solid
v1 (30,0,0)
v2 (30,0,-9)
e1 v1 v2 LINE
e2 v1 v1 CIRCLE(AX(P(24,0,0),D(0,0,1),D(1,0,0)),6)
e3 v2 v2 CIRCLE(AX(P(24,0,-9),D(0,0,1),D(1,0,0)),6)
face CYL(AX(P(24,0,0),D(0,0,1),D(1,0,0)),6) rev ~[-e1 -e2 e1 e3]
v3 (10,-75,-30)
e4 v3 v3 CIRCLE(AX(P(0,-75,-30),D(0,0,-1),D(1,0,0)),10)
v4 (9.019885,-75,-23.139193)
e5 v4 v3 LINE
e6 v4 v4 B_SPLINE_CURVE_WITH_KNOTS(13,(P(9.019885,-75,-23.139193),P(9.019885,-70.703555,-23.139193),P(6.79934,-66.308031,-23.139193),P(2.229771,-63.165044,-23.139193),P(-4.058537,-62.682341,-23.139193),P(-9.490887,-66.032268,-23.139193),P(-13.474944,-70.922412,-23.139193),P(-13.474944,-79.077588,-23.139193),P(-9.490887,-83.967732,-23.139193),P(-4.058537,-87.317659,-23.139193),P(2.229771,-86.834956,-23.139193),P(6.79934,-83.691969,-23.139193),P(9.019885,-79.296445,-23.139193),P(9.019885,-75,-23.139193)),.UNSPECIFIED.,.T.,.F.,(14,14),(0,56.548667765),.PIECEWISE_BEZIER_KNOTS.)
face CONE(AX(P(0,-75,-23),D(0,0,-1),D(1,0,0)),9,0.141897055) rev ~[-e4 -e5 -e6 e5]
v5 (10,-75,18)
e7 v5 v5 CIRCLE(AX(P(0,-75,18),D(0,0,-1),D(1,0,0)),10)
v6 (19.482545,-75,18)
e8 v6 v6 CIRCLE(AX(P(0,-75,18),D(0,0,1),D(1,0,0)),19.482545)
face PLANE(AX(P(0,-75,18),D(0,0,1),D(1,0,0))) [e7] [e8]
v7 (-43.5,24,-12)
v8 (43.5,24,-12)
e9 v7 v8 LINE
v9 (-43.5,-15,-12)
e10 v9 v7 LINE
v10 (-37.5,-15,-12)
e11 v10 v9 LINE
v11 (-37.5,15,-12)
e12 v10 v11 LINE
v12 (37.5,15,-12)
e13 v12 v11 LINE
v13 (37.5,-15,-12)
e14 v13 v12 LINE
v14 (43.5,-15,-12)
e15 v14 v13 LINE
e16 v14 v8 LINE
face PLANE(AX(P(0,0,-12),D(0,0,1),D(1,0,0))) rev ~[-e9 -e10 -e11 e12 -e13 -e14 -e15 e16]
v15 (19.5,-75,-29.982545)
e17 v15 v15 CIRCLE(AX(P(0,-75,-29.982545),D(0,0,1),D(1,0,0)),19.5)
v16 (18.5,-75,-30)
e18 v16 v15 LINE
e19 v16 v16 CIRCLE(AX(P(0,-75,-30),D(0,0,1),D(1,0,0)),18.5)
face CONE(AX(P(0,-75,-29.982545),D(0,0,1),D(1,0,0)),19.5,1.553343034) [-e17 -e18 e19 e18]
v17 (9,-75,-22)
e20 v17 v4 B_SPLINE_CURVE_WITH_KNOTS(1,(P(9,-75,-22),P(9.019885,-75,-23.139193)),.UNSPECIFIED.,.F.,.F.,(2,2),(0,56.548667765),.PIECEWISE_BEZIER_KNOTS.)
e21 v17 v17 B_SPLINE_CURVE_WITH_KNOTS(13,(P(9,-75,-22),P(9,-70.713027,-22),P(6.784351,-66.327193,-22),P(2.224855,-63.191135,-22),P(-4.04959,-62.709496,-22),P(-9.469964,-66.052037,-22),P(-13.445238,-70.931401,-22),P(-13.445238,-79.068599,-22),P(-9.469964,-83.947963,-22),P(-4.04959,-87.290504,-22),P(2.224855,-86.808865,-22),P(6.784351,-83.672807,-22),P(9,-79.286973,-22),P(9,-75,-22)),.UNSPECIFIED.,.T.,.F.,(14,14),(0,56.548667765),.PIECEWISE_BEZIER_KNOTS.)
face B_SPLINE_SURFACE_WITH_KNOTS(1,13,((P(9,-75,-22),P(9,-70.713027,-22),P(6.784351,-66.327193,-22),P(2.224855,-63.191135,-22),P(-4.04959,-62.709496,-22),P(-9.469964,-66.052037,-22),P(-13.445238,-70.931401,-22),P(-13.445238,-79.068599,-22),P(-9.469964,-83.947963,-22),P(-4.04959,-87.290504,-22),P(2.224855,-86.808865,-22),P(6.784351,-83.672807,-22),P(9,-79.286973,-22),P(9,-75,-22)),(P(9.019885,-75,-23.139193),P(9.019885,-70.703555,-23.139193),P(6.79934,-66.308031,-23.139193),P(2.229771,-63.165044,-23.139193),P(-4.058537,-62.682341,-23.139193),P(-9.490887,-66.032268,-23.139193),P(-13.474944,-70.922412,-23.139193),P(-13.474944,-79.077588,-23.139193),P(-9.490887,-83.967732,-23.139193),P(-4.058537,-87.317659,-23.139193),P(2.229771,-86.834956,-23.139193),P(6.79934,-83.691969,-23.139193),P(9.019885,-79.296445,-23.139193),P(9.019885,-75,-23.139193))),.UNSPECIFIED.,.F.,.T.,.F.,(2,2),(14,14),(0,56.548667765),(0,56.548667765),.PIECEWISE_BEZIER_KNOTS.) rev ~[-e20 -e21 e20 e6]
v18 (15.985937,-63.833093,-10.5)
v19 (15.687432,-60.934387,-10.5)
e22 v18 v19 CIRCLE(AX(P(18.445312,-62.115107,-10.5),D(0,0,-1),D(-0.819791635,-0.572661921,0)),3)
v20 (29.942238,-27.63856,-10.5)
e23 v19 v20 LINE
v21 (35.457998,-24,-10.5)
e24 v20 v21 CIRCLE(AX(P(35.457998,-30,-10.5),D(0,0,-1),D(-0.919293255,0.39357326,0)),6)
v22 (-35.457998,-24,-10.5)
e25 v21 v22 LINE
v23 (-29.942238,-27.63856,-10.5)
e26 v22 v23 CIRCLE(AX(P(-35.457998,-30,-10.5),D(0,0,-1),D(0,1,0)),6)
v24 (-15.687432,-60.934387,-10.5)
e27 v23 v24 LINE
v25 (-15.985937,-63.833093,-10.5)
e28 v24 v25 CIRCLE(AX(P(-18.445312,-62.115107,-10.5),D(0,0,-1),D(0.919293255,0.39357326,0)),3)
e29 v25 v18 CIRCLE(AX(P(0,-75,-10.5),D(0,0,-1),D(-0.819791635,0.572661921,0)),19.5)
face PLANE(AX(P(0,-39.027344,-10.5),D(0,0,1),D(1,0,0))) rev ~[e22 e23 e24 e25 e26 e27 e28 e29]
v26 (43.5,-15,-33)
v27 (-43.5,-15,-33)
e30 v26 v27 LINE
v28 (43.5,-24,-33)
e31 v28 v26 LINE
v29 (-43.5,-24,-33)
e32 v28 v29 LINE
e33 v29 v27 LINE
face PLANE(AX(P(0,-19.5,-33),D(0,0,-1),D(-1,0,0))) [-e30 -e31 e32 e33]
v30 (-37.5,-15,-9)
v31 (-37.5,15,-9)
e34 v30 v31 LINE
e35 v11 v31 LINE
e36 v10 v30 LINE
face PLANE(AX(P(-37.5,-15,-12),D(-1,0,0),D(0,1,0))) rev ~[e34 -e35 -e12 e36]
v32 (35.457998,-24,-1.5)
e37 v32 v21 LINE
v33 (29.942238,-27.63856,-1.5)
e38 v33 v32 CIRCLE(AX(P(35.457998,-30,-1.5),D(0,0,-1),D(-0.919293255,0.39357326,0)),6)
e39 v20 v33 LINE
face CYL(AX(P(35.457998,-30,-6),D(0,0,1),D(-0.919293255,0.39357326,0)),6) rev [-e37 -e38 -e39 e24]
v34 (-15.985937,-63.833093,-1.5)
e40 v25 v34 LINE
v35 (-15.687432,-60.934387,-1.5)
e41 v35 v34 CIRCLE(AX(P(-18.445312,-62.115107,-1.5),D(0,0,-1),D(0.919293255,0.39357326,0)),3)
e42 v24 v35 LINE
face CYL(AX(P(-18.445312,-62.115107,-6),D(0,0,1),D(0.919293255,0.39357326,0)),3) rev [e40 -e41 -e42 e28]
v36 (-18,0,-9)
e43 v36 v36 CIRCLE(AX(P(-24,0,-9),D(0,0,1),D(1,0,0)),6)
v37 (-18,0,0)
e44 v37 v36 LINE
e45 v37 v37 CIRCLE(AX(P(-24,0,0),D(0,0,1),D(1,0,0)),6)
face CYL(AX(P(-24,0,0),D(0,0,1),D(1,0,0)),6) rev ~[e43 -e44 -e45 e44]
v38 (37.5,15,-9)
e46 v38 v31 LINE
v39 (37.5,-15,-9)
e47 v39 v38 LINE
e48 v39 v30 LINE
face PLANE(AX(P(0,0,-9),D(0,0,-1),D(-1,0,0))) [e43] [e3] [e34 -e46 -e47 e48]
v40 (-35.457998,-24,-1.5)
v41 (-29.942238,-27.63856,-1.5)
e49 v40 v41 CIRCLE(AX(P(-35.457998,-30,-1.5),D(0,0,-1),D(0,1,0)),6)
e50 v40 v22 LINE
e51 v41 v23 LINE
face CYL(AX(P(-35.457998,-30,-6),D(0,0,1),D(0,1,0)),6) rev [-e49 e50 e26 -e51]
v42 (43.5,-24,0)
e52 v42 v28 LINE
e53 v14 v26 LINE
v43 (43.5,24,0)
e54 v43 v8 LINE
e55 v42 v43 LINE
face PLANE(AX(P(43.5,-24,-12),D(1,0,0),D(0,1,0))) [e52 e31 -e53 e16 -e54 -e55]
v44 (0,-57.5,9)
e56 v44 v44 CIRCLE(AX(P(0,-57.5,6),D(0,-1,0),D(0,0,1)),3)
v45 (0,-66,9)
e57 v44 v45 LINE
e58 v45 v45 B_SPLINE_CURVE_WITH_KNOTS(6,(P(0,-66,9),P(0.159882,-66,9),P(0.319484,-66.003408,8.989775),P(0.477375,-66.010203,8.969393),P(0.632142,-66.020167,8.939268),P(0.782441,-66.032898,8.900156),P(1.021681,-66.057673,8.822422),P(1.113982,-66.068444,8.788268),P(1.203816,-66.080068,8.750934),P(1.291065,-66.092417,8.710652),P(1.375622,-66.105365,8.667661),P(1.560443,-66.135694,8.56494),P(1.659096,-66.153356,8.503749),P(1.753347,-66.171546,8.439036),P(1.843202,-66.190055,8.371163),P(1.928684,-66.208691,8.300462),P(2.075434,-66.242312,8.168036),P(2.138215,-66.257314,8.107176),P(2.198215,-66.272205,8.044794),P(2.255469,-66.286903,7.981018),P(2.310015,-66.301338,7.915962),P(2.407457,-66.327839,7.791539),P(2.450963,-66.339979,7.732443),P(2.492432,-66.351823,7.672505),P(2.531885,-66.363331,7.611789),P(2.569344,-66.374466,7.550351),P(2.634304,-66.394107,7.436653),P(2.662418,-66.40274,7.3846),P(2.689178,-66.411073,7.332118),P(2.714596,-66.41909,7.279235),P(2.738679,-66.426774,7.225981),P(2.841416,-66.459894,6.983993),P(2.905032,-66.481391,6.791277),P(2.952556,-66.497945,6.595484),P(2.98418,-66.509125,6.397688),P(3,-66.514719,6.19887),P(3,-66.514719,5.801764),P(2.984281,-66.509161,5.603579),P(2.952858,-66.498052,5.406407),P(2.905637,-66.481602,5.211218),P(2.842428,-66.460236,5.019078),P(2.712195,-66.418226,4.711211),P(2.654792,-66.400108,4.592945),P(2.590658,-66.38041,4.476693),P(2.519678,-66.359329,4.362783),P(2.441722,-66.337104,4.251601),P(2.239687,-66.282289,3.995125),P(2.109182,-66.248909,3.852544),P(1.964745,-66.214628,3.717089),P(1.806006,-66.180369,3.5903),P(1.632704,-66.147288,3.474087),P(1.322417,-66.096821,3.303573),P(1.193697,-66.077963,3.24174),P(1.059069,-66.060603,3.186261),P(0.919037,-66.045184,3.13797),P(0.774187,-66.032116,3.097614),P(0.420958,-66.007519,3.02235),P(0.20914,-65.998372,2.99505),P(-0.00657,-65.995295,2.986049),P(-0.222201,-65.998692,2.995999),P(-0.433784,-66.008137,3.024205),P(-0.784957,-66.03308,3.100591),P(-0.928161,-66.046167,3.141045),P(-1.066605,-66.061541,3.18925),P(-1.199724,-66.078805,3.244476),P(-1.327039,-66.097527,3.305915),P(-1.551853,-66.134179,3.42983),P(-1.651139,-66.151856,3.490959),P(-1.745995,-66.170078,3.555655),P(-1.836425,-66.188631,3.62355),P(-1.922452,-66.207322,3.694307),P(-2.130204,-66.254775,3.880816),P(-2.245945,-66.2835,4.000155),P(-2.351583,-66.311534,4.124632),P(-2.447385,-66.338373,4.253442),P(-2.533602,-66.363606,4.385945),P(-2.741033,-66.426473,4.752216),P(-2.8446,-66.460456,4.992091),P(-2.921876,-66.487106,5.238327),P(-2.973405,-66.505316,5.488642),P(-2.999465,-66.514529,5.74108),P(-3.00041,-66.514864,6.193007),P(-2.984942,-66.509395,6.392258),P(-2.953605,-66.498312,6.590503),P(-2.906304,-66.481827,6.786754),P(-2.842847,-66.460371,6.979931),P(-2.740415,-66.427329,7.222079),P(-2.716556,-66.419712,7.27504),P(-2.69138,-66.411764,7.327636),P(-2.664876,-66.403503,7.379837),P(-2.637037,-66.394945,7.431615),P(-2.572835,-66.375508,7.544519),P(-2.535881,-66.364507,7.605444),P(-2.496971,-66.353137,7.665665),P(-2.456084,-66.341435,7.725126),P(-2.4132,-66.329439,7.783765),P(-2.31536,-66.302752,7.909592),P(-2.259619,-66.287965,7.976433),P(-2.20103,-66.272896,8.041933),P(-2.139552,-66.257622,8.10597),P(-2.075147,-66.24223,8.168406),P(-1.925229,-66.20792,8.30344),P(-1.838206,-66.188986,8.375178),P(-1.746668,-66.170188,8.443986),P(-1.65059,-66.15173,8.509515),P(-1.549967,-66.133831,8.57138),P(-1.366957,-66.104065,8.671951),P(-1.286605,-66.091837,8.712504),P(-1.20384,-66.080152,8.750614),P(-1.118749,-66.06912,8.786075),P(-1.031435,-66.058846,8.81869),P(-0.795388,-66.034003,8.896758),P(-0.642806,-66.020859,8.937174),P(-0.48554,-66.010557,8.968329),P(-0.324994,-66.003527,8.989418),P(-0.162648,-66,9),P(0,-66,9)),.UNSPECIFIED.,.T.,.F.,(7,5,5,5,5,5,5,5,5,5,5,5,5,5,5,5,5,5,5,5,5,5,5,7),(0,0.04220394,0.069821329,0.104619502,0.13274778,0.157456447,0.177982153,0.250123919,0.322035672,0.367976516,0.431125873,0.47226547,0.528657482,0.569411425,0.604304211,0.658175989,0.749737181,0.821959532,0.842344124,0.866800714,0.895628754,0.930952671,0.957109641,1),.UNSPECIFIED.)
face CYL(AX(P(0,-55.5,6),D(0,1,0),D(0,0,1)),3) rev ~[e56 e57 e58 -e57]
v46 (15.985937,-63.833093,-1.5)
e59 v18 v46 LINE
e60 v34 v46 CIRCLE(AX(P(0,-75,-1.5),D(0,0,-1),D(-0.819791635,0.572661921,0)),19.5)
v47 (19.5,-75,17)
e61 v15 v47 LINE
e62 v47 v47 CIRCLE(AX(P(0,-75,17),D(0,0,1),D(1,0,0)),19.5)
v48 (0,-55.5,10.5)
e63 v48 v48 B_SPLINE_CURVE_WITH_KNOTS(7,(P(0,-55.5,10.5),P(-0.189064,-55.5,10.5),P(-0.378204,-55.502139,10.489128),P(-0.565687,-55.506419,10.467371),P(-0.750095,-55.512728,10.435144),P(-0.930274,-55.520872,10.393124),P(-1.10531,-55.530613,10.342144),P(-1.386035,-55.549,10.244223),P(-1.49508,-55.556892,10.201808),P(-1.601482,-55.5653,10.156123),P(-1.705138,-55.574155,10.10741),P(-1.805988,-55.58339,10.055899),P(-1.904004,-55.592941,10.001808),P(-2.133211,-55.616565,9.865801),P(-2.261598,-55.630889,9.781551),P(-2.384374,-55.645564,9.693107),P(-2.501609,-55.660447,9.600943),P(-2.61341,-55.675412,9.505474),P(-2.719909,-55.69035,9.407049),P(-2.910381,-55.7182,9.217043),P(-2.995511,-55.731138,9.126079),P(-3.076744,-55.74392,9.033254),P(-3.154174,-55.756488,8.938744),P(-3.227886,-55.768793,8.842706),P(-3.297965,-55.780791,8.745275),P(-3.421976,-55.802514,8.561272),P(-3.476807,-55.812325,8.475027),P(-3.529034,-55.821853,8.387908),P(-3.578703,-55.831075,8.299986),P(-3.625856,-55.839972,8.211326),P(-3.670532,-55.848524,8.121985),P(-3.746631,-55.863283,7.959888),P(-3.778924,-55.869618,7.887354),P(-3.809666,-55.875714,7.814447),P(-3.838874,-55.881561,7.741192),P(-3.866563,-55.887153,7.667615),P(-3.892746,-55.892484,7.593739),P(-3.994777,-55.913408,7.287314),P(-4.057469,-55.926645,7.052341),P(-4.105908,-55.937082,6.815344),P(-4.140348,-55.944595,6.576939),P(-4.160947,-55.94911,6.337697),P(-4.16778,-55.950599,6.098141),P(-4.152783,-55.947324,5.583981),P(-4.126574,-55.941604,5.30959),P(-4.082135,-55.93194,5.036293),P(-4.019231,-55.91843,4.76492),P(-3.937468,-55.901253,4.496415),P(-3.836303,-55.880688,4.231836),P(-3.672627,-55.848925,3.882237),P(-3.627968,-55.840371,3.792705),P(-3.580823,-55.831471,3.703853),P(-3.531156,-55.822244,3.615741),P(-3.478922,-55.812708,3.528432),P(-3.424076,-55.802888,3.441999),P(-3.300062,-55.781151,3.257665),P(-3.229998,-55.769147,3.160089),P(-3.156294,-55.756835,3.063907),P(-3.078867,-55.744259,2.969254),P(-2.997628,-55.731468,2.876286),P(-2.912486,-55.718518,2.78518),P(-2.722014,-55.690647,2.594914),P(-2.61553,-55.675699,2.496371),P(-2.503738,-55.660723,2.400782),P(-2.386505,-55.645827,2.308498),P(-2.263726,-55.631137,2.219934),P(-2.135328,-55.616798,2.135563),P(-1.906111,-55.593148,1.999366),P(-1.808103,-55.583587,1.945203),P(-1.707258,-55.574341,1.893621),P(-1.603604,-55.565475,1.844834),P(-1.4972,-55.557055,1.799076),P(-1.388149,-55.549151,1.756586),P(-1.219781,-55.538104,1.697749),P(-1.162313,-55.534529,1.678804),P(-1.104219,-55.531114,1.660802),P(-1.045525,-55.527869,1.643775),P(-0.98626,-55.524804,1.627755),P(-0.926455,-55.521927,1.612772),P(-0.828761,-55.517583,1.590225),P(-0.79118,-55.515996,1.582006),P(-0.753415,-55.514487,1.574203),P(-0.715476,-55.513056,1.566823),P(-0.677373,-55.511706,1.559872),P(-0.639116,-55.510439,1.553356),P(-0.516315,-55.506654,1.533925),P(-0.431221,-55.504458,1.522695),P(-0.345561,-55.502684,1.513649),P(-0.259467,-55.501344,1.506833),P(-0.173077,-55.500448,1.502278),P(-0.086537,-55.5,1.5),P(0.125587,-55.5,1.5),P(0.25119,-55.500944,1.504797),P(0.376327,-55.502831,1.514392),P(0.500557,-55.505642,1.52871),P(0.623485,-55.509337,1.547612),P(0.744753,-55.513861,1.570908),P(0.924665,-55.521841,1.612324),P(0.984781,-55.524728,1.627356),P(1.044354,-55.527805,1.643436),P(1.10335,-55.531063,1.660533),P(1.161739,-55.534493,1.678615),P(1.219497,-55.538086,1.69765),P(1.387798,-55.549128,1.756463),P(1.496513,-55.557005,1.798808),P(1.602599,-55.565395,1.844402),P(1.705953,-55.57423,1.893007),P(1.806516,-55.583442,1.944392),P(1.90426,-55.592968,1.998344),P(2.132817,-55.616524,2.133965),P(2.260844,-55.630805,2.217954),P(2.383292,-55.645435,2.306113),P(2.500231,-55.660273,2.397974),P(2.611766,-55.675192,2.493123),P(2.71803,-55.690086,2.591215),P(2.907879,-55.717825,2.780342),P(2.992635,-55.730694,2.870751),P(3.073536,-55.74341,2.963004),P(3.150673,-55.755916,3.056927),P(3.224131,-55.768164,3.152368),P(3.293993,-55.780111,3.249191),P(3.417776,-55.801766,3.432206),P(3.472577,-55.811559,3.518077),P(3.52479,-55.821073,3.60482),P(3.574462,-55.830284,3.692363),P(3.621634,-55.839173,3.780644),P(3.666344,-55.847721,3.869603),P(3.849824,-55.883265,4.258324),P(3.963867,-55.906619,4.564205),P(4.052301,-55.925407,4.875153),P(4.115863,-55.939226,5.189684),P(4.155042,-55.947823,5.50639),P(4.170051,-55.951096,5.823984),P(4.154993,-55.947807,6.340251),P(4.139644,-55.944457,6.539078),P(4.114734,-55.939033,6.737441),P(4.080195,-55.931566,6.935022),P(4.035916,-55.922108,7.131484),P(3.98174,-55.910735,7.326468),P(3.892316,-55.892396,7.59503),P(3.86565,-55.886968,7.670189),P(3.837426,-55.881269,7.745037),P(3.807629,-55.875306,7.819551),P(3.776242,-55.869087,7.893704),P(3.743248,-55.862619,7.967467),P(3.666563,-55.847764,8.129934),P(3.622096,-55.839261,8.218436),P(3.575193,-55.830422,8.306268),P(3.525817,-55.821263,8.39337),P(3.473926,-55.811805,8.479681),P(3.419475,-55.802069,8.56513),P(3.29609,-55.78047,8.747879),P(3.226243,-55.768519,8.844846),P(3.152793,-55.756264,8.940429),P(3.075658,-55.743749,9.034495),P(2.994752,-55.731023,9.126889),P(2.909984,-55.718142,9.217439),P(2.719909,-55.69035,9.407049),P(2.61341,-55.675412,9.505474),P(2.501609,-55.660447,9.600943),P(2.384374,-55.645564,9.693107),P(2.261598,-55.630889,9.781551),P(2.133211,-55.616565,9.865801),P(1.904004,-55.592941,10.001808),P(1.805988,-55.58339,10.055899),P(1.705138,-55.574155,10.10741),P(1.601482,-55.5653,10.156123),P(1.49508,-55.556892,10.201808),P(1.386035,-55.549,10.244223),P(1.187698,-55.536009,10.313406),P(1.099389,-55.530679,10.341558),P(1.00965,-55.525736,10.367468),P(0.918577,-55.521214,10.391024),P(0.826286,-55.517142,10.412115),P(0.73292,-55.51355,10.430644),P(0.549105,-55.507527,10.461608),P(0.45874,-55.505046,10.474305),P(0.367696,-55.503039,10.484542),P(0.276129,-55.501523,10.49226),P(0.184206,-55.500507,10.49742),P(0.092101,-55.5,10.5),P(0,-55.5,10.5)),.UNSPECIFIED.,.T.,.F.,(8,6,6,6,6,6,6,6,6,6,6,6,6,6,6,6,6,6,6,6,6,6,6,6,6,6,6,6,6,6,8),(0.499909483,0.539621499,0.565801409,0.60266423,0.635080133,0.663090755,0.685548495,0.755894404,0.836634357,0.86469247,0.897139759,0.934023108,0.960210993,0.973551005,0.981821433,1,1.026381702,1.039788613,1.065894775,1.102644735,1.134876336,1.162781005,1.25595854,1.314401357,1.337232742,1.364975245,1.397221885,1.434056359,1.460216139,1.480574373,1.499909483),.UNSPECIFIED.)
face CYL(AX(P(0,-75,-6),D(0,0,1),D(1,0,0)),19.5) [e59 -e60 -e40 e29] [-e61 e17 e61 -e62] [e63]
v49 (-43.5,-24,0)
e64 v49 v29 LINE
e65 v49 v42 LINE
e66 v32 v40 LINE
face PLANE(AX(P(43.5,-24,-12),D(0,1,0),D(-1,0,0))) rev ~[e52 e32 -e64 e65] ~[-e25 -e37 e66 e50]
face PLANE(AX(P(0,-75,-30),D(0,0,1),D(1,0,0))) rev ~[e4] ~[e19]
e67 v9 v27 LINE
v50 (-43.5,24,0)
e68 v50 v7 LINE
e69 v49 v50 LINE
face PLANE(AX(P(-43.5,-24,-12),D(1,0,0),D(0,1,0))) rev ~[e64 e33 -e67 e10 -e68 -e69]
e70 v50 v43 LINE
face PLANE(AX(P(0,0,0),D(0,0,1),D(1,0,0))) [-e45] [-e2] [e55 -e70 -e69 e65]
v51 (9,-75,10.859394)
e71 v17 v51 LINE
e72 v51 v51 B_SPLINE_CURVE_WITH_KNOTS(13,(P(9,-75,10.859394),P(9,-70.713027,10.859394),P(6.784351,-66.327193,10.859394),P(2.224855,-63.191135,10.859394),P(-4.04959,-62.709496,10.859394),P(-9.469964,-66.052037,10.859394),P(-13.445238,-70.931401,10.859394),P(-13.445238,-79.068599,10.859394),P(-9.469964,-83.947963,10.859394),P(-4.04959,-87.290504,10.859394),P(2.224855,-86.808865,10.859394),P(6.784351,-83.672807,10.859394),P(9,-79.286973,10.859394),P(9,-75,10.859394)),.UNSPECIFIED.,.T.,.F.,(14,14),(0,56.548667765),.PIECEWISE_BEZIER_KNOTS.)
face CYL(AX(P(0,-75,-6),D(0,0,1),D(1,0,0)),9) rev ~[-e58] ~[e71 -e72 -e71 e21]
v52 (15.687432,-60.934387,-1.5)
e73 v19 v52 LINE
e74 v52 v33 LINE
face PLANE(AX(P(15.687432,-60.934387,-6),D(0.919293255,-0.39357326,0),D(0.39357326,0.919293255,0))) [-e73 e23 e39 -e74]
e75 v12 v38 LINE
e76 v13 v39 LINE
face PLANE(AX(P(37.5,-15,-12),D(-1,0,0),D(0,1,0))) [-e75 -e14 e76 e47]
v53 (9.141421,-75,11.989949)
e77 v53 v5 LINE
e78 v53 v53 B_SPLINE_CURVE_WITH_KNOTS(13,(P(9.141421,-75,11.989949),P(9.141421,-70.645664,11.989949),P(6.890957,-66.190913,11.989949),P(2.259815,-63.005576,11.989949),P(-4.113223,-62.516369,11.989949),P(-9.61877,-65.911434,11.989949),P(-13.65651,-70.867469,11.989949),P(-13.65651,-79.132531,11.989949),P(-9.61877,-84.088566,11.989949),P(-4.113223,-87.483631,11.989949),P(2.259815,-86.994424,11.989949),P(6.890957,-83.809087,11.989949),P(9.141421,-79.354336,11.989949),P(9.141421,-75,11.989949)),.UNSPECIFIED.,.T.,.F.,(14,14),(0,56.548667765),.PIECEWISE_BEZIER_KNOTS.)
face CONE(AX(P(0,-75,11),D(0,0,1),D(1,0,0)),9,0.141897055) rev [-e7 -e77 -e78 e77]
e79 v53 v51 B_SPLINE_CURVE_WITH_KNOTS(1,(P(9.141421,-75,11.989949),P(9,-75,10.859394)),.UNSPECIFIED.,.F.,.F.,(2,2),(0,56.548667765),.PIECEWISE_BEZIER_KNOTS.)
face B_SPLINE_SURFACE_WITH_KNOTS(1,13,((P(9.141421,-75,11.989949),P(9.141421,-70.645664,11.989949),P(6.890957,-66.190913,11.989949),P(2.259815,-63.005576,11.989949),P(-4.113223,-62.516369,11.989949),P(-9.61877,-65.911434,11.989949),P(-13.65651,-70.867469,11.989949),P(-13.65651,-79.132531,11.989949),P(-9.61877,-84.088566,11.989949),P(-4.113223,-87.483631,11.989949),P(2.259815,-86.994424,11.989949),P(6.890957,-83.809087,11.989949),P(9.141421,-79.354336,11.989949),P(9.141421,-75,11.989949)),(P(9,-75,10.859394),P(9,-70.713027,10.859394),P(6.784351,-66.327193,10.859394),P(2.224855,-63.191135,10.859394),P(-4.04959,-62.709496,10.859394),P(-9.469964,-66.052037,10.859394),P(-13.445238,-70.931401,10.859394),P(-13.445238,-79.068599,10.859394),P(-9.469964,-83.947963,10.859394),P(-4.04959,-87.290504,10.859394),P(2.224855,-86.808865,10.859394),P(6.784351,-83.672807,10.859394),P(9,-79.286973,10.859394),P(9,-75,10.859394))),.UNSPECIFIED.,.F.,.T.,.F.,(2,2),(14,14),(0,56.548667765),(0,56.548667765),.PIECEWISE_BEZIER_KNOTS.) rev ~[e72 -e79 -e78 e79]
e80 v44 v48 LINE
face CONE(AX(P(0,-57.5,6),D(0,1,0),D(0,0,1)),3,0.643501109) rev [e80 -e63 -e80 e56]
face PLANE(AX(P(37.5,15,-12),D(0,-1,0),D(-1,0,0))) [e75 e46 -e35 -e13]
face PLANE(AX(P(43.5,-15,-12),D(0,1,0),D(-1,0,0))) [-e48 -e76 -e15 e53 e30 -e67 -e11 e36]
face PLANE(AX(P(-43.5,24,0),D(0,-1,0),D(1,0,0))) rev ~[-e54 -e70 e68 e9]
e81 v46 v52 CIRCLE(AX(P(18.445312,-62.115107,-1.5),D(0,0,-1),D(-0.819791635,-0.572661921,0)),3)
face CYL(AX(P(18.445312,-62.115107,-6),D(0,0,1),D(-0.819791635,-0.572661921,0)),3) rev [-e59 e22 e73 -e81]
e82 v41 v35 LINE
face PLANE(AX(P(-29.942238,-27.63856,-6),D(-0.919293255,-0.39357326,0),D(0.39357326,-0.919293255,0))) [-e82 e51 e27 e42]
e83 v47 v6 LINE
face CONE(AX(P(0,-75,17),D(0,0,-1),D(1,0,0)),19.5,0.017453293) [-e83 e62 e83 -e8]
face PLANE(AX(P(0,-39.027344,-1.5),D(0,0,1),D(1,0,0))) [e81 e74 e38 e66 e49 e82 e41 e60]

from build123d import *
from OCP.BRepFilletAPI import BRepFilletAPI_MakeChamfer

# Parameters (mm, degrees)
SKETCH_1_W               = 87
SKETCH_1_H               = 48
EXTRUDE_1_DEPTH          = 12
SKETCH_3_W               = 75
SKETCH_3_H               = 30
CUT_EXTRUDE_1_DEPTH      = 3
SKETCH_4_R               = 6
CUT_EXTRUDE_2_DEPTH      = 52.110175112
SKETCH_5_W               = 87
SKETCH_5_H               = 9
EXTRUDE_2_DEPTH          = 21
SKETCH_7_R               = 19.5
EXTRUDE_3_DEPTH          = 24
SKETCH_8_R               = 9
CUT_EXTRUDE_3_DEPTH      = 17
EXTRUDE_4_DEPTH          = 4.5
CUT_EXTRUDE_4_REACH      = 98.444
CUT_EXTRUDE_4_END_RADIUS = 9
SKETCH_13_R              = 3
CHAMFER_6_SIZE           = 1
CHAMFER_6_SIZE2          = 0.14060595
CHAMFER_6_SIZE2_2        = 0.017455065


with BuildPart() as part:
    # 草图1 → 凸台-拉伸1 (new body)
    with BuildSketch(Plane.XY):
        Rectangle(SKETCH_1_W, SKETCH_1_H)
    extrude(amount=-EXTRUDE_1_DEPTH)

    # 草图3 → 切除-拉伸1 (cut)
    with BuildSketch(Plane(origin=(0, 0, -12), x_dir=(-1, 0, 0), z_dir=(0, 0, -1))):
        Rectangle(SKETCH_3_W, SKETCH_3_H)
    extrude(amount=-CUT_EXTRUDE_1_DEPTH, mode=Mode.SUBTRACT)

    # 草图4 → 切除-拉伸2 (cut, through all)
    with BuildSketch(Plane.XY):
        with Locations((24, 0)):
            Circle(SKETCH_4_R)
        with Locations((-24, 0)):
            Circle(SKETCH_4_R)
    extrude(amount=-CUT_EXTRUDE_2_DEPTH, mode=Mode.SUBTRACT)

    # 草图5 → 凸台-拉伸2 (add)
    with BuildSketch(Plane(origin=(0, 0, -12), x_dir=(-1, 0, 0), z_dir=(0, 0, -1))):
        with Locations((0, -19.5)):
            Rectangle(SKETCH_5_W, SKETCH_5_H)
    extrude(amount=EXTRUDE_2_DEPTH)



with BuildPart() as body_2:
    # 草图7 → 凸台-拉伸3 (new, symmetric)
    with BuildSketch(Plane.XY.offset(-6)):
        with Locations((0, -75)):
            Circle(SKETCH_7_R)
    extrude(amount=EXTRUDE_3_DEPTH, both=True)

    # 草图8 → 切除-拉伸3 (cut, symmetric)
    with BuildSketch(Plane.XY.offset(-6)):
        with Locations((0, -75)):
            Circle(SKETCH_8_R)
    extrude(amount=CUT_EXTRUDE_3_DEPTH, both=True, mode=Mode.SUBTRACT)

    # 草图10 → 切除-旋转1 (revolve, cut)
    with BuildSketch(Plane(origin=(0, -75, 0), x_dir=(1, 0, 0), z_dir=(0, 1, 0))):
        Polygon((0, -18), (0, -11), (9, -11), (10, -18), align=None)
    cut_revolve_1 = revolve(axis=Axis((0, -75, 18), (0, 0, -1)), mode=Mode.SUBTRACT)

    # 镜向1: 切除-旋转1 across plane
    add(cut_revolve_1.mirror(Plane.XY.offset(-6)), mode=Mode.SUBTRACT)


with BuildPart() as part_1:
    add(part.part)

    add(body_2.part)  # 凸台-拉伸4 merges body 2
    # 草图12 → 凸台-拉伸4 (add, symmetric)
    with BuildSketch(Plane.XY.offset(-6)):
        with BuildLine():
            Line((-29.942238006, -27.63856044), (-15.687432014, -60.934386997))
            ThreePointArc((-15.687432014, -60.934386997), (-15.461093284, -62.422417649), (-15.985936875, -63.83309254))
            ThreePointArc((-15.985936875, -63.83309254), (0, -55.5), (15.985936875, -63.83309254))
            ThreePointArc((15.985936875, -63.83309254), (15.461093284, -62.422417649), (15.687432014, -60.934386997))
            Line((15.687432014, -60.934386997), (29.942238006, -27.63856044))
            ThreePointArc((29.942238006, -27.63856044), (32.154108719, -24.99157523), (35.457997537, -24))
            Line((35.457997537, -24), (-35.457997537, -24))
            ThreePointArc((-35.457997537, -24), (-32.154108719, -24.99157523), (-29.942238006, -27.63856044))
        make_face()
    extrude(amount=EXTRUDE_4_DEPTH, both=True)

    # 切除-拉伸4: up to this cylinder (the profile starts outside it)
    cut_extrude_4_end = Plane(origin=(0, -75, 6), z_dir=(0, 0, 1)) * Cylinder(CUT_EXTRUDE_4_END_RADIUS, 215.888, mode=Mode.PRIVATE)
    # 草图13 → 切除-拉伸4 (cut, up to the surface)
    with BuildSketch(Plane(origin=(0, -55.5, 0), x_dir=(1, 0, 0), z_dir=(0, 1, 0)), mode=Mode.PRIVATE) as cut_extrude_4_sk1:
        with Locations(Location((0, -6, 0), (0, 0, 270))):
            Circle(SKETCH_13_R)
    cut_extrude_4_tool1 = extrude(cut_extrude_4_sk1.sketch, amount=-CUT_EXTRUDE_4_REACH, mode=Mode.PRIVATE) - cut_extrude_4_end
    add(cut_extrude_4_tool1.solids().sort_by_distance((0, -55.5, 6))[0], mode=Mode.SUBTRACT)

    # 草图14 → 切除-旋转2 (revolve, cut)
    with BuildSketch(Plane.XY.offset(6), mode=Mode.PRIVATE) as cut_revolve_2_sk:
        Polygon((0, -55.5), (0, -57.5), (3, -57.5), (4.5, -55.5), align=None)
    revolve(cut_revolve_2_sk.sketch.rotate(Axis((0, -55.5, 6), (0, -1, 0)), 90), axis=Axis((0, -55.5, 6), (0, -1, 0)), mode=Mode.SUBTRACT)

    # 倒角6: one chamfer whose edges measure the first distance from different faces: ONE call of the kernel's chamfer builder (chamfer() names one face for all edges)
    chamfer_6_edges_1 = [part_1.edges().sort_by_distance(p)[0] for p in [
        (-9, -75, 11),
    ]]
    chamfer_6_side_1 = [part_1.faces().sort_by_distance(p)[0] for p in [
        (-9.5, -75, 14.5),
    ]]
    chamfer_6_edges_2 = [part_1.edges().sort_by_distance(p)[0] for p in [
        (-19.5, -75, -30),
    ]]
    chamfer_6_side_2 = [part_1.faces().sort_by_distance(p)[0] for p in [
        (-18.948456711, -75, -30),
    ]]
    chamfer_6_edges_3 = [part_1.edges().sort_by_distance(p)[0] for p in [
        (-19.5, -75, 18),
    ]]
    chamfer_6_side_3 = [part_1.faces().sort_by_distance(p)[0] for p in [
        (-19.5, -75, -6),
    ]]
    chamfer_6_edges_4 = [part_1.edges().sort_by_distance(p)[0] for p in [
        (-9, -75, -23),
    ]]
    chamfer_6_side_4 = [part_1.faces().sort_by_distance(p)[0] for p in [
        (-9, -75, -6),
    ]]
    chamfer_6 = BRepFilletAPI_MakeChamfer(part_1.part.solid().wrapped)
    for e in chamfer_6_edges_1:
        chamfer_6.Add(CHAMFER_6_SIZE, CHAMFER_6_SIZE2, e.wrapped, chamfer_6_side_1[0].wrapped)  # the first distance lies on this face
    for e in chamfer_6_edges_2:
        chamfer_6.Add(CHAMFER_6_SIZE, CHAMFER_6_SIZE2_2, e.wrapped, chamfer_6_side_2[0].wrapped)  # the first distance lies on this face
    for e in chamfer_6_edges_3:
        chamfer_6.Add(CHAMFER_6_SIZE, CHAMFER_6_SIZE2_2, e.wrapped, chamfer_6_side_3[0].wrapped)  # the first distance lies on this face
    for e in chamfer_6_edges_4:
        chamfer_6.Add(CHAMFER_6_SIZE, CHAMFER_6_SIZE2, e.wrapped, chamfer_6_side_4[0].wrapped)  # the first distance lies on this face
    add(Compound.cast(chamfer_6.Shape()), mode=Mode.REPLACE)


solid = part_1.part
